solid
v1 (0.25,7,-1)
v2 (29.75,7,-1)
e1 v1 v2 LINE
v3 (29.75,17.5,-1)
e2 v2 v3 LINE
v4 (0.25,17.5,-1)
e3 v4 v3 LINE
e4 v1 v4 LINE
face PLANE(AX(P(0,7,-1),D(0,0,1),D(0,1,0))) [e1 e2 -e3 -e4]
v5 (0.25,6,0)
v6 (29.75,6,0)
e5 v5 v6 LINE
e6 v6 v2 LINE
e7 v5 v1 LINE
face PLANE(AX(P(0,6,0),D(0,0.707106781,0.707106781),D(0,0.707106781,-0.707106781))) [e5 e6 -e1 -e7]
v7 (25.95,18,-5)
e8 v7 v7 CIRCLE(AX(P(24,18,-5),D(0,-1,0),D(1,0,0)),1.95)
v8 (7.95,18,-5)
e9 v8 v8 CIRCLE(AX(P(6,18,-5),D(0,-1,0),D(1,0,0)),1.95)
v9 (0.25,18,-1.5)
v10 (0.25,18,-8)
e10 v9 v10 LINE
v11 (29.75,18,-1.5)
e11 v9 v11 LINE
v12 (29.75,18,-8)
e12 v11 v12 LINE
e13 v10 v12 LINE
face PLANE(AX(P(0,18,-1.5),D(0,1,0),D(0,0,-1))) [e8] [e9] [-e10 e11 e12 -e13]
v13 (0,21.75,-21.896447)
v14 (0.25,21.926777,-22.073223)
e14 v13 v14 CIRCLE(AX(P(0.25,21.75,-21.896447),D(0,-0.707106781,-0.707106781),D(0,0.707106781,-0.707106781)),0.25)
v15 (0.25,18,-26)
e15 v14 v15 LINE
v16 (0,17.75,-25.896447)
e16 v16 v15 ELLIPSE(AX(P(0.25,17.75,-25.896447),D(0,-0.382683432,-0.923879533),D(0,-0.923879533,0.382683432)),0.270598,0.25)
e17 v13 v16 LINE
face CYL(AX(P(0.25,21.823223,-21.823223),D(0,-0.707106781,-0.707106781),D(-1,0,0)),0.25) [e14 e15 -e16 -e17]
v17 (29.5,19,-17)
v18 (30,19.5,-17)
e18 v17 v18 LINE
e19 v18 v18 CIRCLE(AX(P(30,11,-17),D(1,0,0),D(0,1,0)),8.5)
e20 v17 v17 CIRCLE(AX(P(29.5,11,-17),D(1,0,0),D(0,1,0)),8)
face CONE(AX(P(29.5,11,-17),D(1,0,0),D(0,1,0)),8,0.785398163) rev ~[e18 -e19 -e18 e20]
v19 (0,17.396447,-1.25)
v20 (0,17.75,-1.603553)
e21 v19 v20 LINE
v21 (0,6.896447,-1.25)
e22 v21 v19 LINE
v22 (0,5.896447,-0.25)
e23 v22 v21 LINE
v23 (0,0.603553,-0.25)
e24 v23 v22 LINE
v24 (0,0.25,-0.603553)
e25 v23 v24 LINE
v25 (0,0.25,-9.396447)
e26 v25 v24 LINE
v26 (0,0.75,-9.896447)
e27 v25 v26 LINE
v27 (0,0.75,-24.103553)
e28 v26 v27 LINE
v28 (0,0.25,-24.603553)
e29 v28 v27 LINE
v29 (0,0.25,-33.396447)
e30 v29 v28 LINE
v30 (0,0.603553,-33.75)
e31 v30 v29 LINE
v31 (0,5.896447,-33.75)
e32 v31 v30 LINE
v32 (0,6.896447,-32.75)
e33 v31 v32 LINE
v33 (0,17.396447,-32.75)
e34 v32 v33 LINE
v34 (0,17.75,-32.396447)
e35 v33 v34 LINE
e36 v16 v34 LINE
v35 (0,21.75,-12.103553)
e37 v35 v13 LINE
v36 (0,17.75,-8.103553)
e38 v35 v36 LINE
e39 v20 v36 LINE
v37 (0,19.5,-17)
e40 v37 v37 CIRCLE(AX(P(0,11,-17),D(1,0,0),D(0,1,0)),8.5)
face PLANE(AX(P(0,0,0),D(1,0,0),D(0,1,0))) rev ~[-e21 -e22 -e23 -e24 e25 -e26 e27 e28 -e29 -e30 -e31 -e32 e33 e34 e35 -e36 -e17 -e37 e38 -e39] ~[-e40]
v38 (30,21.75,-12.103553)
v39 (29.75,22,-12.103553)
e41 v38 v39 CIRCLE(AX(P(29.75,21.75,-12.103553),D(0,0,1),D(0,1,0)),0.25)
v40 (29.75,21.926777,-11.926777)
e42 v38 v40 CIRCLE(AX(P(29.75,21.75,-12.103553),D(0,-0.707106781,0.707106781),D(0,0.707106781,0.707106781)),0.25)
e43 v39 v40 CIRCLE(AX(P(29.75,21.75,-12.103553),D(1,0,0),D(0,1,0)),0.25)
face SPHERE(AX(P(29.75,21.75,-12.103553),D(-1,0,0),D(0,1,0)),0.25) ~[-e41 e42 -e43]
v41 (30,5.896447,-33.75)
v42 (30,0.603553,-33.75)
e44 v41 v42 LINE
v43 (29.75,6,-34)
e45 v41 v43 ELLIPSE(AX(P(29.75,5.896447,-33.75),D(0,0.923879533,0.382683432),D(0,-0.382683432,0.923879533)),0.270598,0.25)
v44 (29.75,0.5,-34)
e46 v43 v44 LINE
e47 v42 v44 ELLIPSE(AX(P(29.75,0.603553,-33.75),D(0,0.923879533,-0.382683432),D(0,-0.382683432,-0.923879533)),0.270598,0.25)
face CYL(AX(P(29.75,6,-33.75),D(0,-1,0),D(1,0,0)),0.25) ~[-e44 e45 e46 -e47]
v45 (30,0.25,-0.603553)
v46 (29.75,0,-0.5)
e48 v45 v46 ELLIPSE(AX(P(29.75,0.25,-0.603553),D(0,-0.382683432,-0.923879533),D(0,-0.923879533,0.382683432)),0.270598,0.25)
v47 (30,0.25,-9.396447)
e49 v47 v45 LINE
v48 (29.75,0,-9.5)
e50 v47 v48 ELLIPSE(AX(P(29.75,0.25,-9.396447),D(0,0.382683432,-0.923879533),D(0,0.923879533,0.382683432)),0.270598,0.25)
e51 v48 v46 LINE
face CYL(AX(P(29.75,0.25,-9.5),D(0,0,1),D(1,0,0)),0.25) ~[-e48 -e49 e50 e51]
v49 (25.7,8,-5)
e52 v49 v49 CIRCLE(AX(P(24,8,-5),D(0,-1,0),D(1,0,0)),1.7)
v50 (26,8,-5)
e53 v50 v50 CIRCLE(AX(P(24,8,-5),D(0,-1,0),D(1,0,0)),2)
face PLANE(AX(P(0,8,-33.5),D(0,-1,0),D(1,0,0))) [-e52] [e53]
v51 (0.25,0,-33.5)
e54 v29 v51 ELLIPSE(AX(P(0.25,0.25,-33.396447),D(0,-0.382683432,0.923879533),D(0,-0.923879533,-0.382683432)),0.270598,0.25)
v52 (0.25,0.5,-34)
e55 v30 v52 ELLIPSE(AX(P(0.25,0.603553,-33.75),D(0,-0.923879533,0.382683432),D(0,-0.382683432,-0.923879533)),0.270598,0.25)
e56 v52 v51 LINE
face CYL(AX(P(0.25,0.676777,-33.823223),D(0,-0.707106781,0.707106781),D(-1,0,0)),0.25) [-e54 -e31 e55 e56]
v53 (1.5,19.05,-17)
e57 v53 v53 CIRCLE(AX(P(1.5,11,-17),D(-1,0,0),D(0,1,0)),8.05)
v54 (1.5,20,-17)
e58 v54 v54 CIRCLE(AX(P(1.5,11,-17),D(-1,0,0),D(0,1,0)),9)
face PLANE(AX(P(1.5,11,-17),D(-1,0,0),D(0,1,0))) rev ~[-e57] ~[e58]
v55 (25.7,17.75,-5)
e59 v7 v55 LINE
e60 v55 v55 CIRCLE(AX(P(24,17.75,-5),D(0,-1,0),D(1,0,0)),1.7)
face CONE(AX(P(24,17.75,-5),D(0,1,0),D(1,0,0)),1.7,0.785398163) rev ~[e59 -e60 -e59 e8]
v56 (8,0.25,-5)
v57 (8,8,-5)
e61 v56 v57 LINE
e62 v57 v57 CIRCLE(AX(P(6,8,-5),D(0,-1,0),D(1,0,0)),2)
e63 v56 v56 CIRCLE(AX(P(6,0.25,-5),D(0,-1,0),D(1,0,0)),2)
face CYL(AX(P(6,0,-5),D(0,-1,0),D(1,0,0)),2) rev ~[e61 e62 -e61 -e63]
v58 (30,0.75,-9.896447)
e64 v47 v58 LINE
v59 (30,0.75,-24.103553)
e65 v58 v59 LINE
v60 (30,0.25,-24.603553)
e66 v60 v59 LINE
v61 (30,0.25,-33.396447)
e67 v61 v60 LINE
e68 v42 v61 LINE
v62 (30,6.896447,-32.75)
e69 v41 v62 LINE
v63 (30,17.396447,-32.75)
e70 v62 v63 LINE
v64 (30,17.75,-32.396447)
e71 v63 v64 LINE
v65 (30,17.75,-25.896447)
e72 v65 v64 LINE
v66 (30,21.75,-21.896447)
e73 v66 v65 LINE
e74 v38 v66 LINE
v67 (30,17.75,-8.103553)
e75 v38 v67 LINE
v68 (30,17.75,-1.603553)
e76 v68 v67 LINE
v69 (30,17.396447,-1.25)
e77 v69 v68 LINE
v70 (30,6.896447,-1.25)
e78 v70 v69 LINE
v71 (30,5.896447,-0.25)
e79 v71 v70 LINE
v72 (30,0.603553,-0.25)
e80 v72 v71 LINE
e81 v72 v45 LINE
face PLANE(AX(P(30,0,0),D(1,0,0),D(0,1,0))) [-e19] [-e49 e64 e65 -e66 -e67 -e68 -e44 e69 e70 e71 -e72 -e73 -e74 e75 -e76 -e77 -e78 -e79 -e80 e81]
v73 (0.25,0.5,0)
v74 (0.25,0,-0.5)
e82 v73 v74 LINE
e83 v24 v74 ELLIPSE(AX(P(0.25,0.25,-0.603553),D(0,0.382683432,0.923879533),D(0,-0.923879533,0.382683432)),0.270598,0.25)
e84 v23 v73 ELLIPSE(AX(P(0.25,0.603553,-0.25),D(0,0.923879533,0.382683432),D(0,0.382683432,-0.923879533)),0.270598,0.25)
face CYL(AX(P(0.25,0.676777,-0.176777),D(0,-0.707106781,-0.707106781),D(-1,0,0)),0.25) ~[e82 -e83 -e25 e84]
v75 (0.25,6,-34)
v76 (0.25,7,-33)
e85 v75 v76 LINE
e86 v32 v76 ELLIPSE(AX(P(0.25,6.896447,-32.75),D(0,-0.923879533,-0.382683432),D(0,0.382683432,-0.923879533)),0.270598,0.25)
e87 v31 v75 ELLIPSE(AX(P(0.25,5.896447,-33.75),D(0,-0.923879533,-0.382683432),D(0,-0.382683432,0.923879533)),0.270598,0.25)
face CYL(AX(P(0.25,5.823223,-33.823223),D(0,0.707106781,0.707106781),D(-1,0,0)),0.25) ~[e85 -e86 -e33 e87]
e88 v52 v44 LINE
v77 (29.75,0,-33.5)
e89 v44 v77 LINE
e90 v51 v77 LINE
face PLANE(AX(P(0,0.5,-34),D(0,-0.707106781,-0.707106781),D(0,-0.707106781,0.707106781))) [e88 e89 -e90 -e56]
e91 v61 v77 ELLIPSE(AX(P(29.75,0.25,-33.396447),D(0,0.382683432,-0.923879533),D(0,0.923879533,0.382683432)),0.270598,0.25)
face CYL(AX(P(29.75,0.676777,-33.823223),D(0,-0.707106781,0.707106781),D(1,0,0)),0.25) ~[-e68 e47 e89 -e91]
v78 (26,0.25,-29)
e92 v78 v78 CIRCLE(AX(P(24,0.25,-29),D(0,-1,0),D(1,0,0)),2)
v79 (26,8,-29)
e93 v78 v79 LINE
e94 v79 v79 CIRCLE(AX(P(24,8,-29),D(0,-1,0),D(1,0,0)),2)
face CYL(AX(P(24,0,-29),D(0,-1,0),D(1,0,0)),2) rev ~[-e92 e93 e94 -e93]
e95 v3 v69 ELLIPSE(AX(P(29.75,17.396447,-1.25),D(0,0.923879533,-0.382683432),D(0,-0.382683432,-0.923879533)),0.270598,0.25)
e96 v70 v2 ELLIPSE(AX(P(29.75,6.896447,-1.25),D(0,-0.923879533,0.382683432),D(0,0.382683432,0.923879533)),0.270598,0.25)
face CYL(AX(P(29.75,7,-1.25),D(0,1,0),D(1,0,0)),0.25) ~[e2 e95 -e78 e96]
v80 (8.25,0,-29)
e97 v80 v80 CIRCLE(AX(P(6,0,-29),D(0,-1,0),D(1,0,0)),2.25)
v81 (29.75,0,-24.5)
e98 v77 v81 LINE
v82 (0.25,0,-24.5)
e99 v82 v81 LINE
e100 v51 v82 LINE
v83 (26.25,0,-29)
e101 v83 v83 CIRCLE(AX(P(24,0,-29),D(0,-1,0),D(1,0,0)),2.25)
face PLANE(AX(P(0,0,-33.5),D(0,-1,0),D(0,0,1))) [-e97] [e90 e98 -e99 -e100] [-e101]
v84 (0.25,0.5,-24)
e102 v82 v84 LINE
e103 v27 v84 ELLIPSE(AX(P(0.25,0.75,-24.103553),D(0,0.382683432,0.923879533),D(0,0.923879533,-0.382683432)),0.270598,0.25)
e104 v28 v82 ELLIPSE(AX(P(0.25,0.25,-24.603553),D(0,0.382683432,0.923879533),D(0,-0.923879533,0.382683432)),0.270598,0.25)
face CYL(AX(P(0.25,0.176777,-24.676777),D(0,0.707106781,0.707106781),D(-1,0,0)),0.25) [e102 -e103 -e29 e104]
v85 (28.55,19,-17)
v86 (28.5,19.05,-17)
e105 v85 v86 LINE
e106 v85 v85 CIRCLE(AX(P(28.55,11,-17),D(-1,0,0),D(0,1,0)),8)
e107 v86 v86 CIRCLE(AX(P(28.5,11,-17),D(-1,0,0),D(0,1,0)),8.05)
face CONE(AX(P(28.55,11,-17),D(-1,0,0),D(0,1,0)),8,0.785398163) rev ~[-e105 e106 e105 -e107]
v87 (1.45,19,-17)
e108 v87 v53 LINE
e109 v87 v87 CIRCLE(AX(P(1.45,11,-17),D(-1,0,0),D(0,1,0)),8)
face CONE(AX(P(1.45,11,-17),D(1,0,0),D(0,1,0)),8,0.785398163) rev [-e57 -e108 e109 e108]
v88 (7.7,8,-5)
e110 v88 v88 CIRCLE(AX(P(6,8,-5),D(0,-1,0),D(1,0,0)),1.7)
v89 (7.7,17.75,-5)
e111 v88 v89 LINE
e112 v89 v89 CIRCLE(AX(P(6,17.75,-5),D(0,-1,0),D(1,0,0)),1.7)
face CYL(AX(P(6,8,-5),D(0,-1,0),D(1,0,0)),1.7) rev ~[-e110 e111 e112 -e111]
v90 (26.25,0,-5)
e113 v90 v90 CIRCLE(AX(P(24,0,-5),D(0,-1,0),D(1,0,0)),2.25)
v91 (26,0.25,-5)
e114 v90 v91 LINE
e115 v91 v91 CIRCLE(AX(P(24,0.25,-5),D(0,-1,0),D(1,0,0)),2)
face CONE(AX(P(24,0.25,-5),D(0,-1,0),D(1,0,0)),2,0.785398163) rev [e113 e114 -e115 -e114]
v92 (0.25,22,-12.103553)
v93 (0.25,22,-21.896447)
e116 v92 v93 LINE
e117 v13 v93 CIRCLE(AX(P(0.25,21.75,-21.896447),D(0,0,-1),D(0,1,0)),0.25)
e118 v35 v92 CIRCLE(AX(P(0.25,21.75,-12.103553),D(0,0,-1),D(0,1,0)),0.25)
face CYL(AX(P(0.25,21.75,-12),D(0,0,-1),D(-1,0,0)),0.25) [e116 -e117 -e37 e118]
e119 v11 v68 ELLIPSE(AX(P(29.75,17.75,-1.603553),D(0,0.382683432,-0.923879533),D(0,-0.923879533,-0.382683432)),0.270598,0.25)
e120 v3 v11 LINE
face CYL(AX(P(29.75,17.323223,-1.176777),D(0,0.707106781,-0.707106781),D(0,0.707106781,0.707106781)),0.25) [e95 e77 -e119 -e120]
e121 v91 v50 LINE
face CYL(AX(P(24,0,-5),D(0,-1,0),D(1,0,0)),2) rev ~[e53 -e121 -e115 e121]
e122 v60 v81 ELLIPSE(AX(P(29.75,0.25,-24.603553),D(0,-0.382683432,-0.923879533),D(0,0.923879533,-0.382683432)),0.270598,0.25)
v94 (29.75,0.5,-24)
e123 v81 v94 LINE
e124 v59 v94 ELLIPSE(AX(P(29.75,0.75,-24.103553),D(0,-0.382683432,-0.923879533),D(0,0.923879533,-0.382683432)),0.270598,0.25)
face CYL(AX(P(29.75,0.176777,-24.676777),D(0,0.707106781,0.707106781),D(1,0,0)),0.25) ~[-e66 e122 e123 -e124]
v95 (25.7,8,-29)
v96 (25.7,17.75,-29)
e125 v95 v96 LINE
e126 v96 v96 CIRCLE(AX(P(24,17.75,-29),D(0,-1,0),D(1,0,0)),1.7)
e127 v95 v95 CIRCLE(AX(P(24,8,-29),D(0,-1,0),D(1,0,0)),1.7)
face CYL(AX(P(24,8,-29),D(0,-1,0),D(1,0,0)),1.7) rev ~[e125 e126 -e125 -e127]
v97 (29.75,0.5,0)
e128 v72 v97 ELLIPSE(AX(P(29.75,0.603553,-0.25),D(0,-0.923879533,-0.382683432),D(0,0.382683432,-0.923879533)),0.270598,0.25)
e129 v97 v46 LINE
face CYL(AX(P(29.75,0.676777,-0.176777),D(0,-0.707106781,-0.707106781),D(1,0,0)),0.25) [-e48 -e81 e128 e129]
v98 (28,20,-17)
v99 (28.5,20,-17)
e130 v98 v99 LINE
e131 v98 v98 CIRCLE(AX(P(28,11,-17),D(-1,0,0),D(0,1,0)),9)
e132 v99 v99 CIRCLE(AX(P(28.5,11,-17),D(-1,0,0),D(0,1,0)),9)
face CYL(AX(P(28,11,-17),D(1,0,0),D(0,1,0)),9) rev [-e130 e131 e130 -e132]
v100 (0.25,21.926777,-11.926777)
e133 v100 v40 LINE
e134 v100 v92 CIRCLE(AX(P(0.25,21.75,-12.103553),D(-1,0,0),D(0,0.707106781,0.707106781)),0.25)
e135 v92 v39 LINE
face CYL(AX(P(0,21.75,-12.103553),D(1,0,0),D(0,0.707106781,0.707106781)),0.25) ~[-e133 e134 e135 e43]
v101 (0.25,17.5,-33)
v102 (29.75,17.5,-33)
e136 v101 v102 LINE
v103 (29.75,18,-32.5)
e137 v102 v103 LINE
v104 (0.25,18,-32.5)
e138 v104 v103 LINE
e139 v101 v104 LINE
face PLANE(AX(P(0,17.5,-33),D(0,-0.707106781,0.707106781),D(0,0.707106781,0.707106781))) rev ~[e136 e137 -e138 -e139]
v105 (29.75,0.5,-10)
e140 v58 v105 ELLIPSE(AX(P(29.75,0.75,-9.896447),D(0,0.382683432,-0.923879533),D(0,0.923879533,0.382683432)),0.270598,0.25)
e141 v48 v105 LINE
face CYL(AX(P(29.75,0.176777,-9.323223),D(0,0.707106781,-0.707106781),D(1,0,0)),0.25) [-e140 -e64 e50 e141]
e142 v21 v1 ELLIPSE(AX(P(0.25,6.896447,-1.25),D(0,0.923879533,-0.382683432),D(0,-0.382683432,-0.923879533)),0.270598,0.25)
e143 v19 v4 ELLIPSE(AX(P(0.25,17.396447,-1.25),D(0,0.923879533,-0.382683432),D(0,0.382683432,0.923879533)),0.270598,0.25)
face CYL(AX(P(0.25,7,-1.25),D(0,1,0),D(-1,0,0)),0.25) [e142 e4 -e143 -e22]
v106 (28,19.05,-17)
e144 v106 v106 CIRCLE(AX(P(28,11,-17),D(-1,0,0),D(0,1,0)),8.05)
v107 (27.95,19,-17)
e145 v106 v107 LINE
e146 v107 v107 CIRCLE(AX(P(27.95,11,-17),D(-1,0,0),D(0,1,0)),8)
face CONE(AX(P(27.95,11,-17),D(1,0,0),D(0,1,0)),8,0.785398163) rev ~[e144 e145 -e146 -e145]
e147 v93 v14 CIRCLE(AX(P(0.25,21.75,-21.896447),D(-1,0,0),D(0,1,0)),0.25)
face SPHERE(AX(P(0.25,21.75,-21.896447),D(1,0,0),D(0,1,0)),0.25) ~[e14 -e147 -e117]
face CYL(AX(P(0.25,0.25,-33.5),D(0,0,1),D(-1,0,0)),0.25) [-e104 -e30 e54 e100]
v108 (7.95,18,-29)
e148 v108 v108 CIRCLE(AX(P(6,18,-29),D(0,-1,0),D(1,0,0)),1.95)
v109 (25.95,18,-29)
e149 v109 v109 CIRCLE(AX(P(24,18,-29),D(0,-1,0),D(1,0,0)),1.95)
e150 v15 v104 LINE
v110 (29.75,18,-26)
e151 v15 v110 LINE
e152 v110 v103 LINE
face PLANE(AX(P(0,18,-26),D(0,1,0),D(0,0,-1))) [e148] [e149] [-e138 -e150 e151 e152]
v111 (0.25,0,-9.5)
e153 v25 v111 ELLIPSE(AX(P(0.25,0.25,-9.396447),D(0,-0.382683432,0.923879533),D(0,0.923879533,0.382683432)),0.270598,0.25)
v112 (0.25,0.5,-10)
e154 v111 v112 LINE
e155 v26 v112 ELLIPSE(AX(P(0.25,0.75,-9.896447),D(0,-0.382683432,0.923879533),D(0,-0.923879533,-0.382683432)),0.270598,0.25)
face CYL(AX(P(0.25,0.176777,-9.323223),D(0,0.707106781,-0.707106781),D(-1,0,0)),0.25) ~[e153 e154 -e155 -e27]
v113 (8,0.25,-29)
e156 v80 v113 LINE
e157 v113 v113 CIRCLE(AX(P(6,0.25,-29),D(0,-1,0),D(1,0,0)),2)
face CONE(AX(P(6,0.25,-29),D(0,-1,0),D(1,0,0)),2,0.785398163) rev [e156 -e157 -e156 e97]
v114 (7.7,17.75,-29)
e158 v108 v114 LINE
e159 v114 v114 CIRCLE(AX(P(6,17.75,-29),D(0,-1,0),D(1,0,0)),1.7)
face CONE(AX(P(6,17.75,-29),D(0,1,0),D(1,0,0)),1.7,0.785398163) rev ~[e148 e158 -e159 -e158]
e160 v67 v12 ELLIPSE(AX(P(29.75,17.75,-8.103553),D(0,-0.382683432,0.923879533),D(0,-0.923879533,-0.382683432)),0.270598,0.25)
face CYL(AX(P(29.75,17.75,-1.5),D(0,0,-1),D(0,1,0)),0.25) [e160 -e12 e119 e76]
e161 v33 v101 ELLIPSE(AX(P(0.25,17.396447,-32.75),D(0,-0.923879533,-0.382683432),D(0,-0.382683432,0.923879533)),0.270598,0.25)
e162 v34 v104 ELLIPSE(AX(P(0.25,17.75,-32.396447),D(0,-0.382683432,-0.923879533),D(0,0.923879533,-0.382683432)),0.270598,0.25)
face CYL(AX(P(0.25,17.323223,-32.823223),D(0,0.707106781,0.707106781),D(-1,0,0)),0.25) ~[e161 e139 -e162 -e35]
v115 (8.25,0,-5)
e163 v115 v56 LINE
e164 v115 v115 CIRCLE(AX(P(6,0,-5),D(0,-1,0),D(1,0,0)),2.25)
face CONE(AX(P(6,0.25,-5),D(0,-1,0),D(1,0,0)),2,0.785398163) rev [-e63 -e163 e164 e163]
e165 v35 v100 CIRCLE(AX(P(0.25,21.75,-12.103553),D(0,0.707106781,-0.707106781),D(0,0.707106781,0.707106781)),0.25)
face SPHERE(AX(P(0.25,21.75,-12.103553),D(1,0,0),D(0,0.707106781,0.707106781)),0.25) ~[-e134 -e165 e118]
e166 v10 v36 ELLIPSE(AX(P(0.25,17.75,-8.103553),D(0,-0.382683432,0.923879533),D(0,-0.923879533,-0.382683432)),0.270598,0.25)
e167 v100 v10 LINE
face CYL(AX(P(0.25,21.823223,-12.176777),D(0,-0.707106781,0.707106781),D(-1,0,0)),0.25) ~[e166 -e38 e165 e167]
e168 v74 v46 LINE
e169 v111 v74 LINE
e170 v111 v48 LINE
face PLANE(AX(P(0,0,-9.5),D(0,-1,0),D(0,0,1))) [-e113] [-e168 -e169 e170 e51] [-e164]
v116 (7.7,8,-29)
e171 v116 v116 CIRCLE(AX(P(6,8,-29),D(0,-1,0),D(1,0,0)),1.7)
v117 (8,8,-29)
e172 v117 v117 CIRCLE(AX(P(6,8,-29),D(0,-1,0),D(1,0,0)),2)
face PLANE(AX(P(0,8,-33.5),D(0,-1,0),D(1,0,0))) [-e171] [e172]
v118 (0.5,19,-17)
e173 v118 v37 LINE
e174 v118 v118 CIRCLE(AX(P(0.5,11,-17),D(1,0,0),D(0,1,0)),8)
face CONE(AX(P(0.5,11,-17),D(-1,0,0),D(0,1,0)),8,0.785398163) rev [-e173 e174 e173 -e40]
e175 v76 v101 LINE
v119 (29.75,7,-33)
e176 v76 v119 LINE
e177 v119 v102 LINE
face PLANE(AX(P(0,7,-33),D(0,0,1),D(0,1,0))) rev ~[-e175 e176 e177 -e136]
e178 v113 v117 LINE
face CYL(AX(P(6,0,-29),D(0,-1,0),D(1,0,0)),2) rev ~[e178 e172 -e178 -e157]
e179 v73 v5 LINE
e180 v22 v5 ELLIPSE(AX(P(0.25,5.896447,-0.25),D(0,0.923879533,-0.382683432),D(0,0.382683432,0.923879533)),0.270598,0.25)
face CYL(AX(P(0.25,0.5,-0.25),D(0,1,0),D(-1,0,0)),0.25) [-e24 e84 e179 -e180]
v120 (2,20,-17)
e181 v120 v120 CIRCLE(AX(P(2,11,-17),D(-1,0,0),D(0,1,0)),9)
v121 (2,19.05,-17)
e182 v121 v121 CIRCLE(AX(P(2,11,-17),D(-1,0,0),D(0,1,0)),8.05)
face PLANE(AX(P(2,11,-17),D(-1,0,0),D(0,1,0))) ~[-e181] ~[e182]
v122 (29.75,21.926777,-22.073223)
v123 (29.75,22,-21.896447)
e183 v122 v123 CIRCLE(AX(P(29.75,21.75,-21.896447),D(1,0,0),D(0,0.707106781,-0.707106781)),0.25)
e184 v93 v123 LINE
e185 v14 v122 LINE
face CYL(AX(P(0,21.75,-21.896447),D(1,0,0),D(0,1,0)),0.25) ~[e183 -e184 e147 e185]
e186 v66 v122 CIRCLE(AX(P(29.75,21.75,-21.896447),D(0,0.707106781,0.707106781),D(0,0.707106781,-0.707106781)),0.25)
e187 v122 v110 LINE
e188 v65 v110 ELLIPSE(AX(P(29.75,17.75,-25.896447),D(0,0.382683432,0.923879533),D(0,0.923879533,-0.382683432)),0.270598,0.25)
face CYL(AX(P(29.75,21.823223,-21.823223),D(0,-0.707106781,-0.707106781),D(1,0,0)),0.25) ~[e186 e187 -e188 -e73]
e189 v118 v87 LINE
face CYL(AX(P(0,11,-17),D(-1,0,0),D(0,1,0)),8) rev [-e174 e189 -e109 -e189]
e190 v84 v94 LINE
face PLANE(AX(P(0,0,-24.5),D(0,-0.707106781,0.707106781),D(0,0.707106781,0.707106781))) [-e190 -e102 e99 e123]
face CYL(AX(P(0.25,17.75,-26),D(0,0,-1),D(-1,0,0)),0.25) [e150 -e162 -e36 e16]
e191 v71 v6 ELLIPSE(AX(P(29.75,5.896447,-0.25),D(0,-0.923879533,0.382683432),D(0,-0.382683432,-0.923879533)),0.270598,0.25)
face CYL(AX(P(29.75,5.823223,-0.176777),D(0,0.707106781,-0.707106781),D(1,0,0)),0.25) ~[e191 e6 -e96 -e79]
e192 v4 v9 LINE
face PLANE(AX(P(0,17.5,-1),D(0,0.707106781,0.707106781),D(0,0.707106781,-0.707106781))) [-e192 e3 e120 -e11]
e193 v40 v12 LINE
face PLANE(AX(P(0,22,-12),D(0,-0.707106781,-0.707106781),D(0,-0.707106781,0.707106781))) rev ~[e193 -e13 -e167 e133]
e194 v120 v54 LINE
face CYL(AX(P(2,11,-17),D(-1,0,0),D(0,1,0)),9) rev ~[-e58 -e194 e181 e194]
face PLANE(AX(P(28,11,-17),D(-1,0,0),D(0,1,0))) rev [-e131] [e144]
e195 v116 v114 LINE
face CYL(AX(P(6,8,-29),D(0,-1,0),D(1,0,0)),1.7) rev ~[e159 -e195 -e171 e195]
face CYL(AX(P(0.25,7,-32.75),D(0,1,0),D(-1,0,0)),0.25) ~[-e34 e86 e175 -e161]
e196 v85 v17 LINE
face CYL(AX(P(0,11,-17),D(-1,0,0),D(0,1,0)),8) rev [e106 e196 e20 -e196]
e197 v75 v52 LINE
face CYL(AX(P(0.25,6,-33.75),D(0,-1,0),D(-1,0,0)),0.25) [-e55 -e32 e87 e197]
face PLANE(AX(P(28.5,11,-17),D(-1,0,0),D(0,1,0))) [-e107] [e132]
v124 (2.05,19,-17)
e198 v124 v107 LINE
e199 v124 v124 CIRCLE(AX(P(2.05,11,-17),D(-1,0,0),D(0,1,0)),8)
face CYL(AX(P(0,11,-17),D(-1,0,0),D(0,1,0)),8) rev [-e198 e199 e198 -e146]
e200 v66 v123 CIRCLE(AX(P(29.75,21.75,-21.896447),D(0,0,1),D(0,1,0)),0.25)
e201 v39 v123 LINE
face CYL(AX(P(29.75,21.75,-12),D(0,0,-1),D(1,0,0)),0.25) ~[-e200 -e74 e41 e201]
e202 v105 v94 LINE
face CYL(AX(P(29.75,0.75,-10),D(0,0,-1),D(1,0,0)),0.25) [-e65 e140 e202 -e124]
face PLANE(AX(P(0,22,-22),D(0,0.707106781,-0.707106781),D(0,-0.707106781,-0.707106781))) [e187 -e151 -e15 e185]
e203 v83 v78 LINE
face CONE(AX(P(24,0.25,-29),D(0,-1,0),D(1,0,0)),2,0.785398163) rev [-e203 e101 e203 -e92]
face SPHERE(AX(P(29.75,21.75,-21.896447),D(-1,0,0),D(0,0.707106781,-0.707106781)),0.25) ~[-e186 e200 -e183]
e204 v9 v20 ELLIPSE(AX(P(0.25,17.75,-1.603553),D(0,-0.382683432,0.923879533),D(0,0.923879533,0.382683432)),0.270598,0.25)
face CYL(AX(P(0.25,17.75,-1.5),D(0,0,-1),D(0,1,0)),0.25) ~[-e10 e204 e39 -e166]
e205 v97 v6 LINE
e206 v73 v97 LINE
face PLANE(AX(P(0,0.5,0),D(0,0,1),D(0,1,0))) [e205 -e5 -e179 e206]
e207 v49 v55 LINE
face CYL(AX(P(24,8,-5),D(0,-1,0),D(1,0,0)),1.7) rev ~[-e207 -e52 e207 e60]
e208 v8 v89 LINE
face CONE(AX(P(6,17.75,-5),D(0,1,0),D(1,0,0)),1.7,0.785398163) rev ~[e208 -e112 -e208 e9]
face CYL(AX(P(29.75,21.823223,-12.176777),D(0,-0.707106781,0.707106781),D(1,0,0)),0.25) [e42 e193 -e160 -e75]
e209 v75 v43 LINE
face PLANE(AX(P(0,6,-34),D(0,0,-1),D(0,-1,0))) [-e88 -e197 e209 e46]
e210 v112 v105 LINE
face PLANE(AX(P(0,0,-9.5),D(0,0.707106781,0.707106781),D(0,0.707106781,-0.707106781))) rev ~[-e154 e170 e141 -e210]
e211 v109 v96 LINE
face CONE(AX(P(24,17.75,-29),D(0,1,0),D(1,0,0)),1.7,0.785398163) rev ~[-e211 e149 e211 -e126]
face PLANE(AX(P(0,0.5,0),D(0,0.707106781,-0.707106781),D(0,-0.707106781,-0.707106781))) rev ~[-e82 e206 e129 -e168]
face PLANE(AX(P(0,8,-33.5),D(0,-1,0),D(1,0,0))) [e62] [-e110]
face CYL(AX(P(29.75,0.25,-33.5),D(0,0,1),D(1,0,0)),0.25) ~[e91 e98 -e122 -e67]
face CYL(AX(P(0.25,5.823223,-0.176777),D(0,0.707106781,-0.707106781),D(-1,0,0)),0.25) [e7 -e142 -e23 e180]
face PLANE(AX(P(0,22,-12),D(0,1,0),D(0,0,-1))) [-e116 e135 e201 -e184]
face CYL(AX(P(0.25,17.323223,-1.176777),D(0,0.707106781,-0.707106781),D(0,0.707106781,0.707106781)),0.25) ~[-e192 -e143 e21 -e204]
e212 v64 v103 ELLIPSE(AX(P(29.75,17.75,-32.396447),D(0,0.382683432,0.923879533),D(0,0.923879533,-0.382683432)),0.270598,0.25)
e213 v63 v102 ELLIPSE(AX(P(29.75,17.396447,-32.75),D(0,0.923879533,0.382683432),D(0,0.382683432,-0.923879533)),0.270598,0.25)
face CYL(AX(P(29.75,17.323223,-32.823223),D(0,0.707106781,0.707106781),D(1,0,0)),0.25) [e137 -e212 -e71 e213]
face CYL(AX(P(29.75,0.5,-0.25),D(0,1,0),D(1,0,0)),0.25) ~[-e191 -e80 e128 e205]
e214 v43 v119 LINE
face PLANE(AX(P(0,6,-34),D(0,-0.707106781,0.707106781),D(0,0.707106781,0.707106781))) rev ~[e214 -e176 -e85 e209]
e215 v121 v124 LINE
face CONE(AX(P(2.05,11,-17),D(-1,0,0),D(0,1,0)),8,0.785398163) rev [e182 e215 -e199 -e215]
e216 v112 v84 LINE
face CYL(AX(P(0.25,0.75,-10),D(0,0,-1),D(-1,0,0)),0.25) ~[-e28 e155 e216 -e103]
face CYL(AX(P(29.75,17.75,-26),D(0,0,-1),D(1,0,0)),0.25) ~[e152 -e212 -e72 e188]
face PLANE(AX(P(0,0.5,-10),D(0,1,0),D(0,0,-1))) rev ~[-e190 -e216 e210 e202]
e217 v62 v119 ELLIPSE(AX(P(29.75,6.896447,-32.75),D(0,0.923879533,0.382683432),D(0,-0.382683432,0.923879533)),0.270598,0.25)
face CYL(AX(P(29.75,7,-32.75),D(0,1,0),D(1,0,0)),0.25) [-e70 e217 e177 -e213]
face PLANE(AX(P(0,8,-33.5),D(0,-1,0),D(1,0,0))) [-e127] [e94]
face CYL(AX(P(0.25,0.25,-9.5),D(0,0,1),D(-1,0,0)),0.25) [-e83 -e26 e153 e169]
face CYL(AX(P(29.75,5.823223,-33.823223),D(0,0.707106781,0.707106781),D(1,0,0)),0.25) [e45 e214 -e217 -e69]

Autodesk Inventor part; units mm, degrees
ref_plane "YZ Plane" through (0, 0, 0) normal (1, 0, 0) x (0, 1, 0)
ref_plane "XZ Plane" through (0, 0, 0) normal (0, 1, 0) x (-1, 0, 0)
sketch "Szkic1" plane through (0, 0, 0) normal (1, 0, 0) x (0, 1, 0)
  line L0 (0.5, 0) -> (6, 0)
  line L1 (22, 0) -> (22, -12) construction
  line L2 (22, -34) -> (18, -34) construction
  line L3 (0, -17) -> (11, -17) construction
  circle A0 centre (11, -17) radius 8
  line L4 (18, 0) -> (18, -1) construction
  line L5 (22, -12) -> (18, -8)
  line L6 (22, -12) -> (29.1229, -12) construction
  line L7 (22, -22) -> (18, -26)
  line L8 (22, -22) -> (32.7221, -22) construction
  line L9 (6, 0) -> (7, -1)
  line L10 (6, 0) -> (7.9702, 0) construction
  line L11 (7, -1) -> (17.5, -1)
  line L12 (6, 0) -> (22, 0) construction
  line L13 (18, -1.5) -> (18, -8)
  line L14 (22, -12) -> (22, -22)
  line L15 (22, -22) -> (22, -34) construction
  line L16 (18, -26) -> (18, -32.5)
  line L17 (18, -34) -> (6, -34) construction
  line L18 (17.5, -1) -> (18, -1.5)
  line L19 (17.3756, -0.6779) -> (19.849, -0.6779) construction
  line L20 (6, -34) -> (7, -33)
  line L21 (6, -34) -> (7.9702, -34) construction
  line L22 (17.5, -33) -> (18, -32.5)
  line L23 (7, -33) -> (17.5, -33)
  line L24 (6, -34) -> (0.5, -34)
  line L25 (18, -32.5) -> (18, -33)
  line L26 (0.5, 0) -> (0, -0.5)
  line L27 (0.5, -34) -> (0, -33.5)
  line L28 (0.5, -34) -> (0, -34) construction
  line L29 (0, -9.5) -> (0.5, -10)
  line L30 (0, -9.5) -> (3.9988, -9.5) construction
  line L31 (0.5, -10) -> (0.5, -24)
  line L32 (0, -24.5) -> (0.5, -24)
  line L33 (0, -34) -> (0, -24.5)
  line L34 (0, -9.5) -> (0, 0)
  line L35 (-6.5444, 0) -> (39.2665, 0) projected
  point P0 (17.3756, -33.3221)
  point P1 (3.25, 0)
  point P2 (0, -33.5)
  dimension "d0" = 22
  dimension "d1" = 34
  dimension "d3" = 16
  dimension "d5" = 135
  dimension "d6" = 135
  dimension "d7" = 10
  dimension "d8" = 12
  dimension "d9" = 45
  dimension "d12" = 45
  dimension "d13" = 0.5
  dimension "d15" = 0.5
  dimension "d16" = 45
  dimension "d17" = 10
  dimension "d19" = 11
  dimension "d20" = 0.5
  dimension "d21" = 18
  dimension "d22" = 135
  dimension "d23" = 1
  dimension "d24" = 6
extrude "Wyciągnięcie proste1" add sketch "Szkic1" along normal blind 30 contours L0 L9 L11 L18 L13 L5 L14 L7 L16 L22 L23 L20 L24 L27 L33 L32 L31 L29 L34 L26
chamfer "Faza1" distance 0.5 angle 45 2 edges at (30, 3, -17) (0, 3, -17)
ref_plane "Płaszczyzna konstrukcyjna1" through (0, 0.5, -17) normal (0, 0, -1) x (-1, 0, 0)
sketch "Szkic2" plane through (0, 0.5, -17) normal (0, 0, -1) x (-1, 0, 0)
  line L0 (-29.5, 18.5) -> (-0.5, 18.5) projected
  line L1 (-30, 21.5) -> (-30, 17.5) projected
  line L2 (-28.5, 18.5) -> (-28, 18.5)
  line L3 (-28, 18.5) -> (-28, 19.5)
  line L4 (-28, 19.5) -> (-28.5, 19.5)
  line L5 (-28.5, 19.5) -> (-28.5, 18.5)
  line L6 (0, 21.5) -> (-30, 21.5) projected
  line L7 (-15, 21.5) -> (-15, 18.5) construction
  line L8 (-1.5, 18.5) -> (-2, 18.5)
  line L9 (-2, 18.5) -> (-2, 19.5)
  line L10 (-2, 19.5) -> (-1.5, 19.5)
  line L11 (-1.5, 19.5) -> (-1.5, 18.5)
  line L12 (6, -0.5) -> (-36, -0.5) projected
  line L13 (-29.5, 2.5) -> (-29.5, 18.5) projected
  line L14 (-29.5, 10.5) -> (-0.5, 10.5) construction
  line L15 (-0.5, 18.5) -> (-0.5, 2.5) projected
  point P0 (0, -0.5)
  point P1 (-28.25, 18.5)
  point P2 (-1.75, 18.5)
  dimension "d31" = 0.5
  dimension "d32" = 1
  dimension "d33" = 1.5
revolve "Obrót1" cut sketch "Szkic2" angle 360 about axis through (29.5, 11, -17) along (-1, 0, 0)
sketch "Szkic3" plane through (0, 0, -33.5) normal (0, -1, 0) x (1, 0, 0)
  line L0 (24, 4.5) -> (6, 4.5) construction
  line L1 (6, 4.5) -> (6, 28.5) construction
  line L2 (6, 28.5) -> (24, 28.5) construction
  line L3 (24, 28.5) -> (24, 4.5) construction
  line L4 (0, 33.5) -> (30, 33.5) projected
  line L5 (0, 9) -> (0, 0) projected
  circle A0 centre (24, 4.5) radius 2
  circle A1 centre (6, 4.5) radius 2
  circle A2 centre (6, 28.5) radius 2
  circle A3 centre (24, 28.5) radius 2
  dimension "d35" = 18
  dimension "d36" = 24
  dimension "d37" = 5
  dimension "d38" = 6
  dimension "d39" = 4
  dimension "d40" = 4
  dimension "d41" = 4
  dimension "d42" = 4
extrude "Wyciągnięcie proste2" cut sketch "Szkic3" against normal blind 8
sketch "Szkic4" plane through (24, 8, -5) normal (0, -1, 0) x (1, 0, 0)
  circle A0 centre (0, 0) radius 2 projected
  circle A1 centre (0, 0) radius 1.7
  circle A2 centre (-18, 0) radius 2 projected
  circle A3 centre (-18, 0) radius 1.7
  circle A4 centre (-18, -24) radius 2 projected
  circle A5 centre (-18, -24) radius 1.7
  circle A6 centre (0, -24) radius 2 projected
  circle A7 centre (0, -24) radius 1.7
  point P0 (-24, 5)
  dimension "d45" = 3.4
  dimension "d46" = 3.4
  dimension "d47" = 3.4
  dimension "d48" = 3.4
extrude "Wyciągnięcie proste3" cut sketch "Szkic4" against normal up to surface (10 mm away) contours A1 | A3 | A5 | A7
chamfer "Faza2" distance 0.25 angle 45 8 edges at (22.3, 18, -29) (4.3, 18, -29) (4.3, 18, -5) (22.3, 18, -5) (22, 0, -5) (4, 0, -5) (22, 0, -29) (4, 0, -29)
fillet "Zaokrąglenie1" radius 0.25 42 edges at (0, 3.25, -34) (0, 0.25, -33.75) (0, 0, -29) (0, 0.25, -24.25) (0, 0.5, -17) (0, 0.25, -9.75) (0, 0, -5) (0, 0.25, -0.25) (0, 3.25, 0) (0, 6.5, -0.5) (0, 12.25, -1) (0, 17.75, -1.25) (0, 18, -4.75) (0, 20, -10) (0, 22, -17) (0, 20, -24) (0, 18, -29.25) (0, 17.75, -32.75) (0, 12.25, -33) (0, 6.5, -33.5) (30, 3.25, -34) (30, 6.5, -33.5) (30, 12.25, -33) (30, 17.75, -32.75) (30, 18, -29.25) (30, 20, -24) (30, 22, -17) (30, 20, -10) (30, 18, -4.75) (30, 17.75, -1.25) (30, 12.25, -1) (30, 6.5, -0.5) (30, 3.25, 0) (30, 0.25, -0.25) (30, 0, -5) (30, 0.25, -9.75) (30, 0.5, -17) (30, 0.25, -24.25) (30, 0, -29) (30, 0.25, -33.75) (15, 22, -22) (15, 22, -12)
chamfer "Faza3" distance 0.05 angle 45 4 edges at (2, 3, -17) (1.5, 3, -17) (28, 3, -17) (28.5, 3, -17)
properties part number "SC8UU body"
